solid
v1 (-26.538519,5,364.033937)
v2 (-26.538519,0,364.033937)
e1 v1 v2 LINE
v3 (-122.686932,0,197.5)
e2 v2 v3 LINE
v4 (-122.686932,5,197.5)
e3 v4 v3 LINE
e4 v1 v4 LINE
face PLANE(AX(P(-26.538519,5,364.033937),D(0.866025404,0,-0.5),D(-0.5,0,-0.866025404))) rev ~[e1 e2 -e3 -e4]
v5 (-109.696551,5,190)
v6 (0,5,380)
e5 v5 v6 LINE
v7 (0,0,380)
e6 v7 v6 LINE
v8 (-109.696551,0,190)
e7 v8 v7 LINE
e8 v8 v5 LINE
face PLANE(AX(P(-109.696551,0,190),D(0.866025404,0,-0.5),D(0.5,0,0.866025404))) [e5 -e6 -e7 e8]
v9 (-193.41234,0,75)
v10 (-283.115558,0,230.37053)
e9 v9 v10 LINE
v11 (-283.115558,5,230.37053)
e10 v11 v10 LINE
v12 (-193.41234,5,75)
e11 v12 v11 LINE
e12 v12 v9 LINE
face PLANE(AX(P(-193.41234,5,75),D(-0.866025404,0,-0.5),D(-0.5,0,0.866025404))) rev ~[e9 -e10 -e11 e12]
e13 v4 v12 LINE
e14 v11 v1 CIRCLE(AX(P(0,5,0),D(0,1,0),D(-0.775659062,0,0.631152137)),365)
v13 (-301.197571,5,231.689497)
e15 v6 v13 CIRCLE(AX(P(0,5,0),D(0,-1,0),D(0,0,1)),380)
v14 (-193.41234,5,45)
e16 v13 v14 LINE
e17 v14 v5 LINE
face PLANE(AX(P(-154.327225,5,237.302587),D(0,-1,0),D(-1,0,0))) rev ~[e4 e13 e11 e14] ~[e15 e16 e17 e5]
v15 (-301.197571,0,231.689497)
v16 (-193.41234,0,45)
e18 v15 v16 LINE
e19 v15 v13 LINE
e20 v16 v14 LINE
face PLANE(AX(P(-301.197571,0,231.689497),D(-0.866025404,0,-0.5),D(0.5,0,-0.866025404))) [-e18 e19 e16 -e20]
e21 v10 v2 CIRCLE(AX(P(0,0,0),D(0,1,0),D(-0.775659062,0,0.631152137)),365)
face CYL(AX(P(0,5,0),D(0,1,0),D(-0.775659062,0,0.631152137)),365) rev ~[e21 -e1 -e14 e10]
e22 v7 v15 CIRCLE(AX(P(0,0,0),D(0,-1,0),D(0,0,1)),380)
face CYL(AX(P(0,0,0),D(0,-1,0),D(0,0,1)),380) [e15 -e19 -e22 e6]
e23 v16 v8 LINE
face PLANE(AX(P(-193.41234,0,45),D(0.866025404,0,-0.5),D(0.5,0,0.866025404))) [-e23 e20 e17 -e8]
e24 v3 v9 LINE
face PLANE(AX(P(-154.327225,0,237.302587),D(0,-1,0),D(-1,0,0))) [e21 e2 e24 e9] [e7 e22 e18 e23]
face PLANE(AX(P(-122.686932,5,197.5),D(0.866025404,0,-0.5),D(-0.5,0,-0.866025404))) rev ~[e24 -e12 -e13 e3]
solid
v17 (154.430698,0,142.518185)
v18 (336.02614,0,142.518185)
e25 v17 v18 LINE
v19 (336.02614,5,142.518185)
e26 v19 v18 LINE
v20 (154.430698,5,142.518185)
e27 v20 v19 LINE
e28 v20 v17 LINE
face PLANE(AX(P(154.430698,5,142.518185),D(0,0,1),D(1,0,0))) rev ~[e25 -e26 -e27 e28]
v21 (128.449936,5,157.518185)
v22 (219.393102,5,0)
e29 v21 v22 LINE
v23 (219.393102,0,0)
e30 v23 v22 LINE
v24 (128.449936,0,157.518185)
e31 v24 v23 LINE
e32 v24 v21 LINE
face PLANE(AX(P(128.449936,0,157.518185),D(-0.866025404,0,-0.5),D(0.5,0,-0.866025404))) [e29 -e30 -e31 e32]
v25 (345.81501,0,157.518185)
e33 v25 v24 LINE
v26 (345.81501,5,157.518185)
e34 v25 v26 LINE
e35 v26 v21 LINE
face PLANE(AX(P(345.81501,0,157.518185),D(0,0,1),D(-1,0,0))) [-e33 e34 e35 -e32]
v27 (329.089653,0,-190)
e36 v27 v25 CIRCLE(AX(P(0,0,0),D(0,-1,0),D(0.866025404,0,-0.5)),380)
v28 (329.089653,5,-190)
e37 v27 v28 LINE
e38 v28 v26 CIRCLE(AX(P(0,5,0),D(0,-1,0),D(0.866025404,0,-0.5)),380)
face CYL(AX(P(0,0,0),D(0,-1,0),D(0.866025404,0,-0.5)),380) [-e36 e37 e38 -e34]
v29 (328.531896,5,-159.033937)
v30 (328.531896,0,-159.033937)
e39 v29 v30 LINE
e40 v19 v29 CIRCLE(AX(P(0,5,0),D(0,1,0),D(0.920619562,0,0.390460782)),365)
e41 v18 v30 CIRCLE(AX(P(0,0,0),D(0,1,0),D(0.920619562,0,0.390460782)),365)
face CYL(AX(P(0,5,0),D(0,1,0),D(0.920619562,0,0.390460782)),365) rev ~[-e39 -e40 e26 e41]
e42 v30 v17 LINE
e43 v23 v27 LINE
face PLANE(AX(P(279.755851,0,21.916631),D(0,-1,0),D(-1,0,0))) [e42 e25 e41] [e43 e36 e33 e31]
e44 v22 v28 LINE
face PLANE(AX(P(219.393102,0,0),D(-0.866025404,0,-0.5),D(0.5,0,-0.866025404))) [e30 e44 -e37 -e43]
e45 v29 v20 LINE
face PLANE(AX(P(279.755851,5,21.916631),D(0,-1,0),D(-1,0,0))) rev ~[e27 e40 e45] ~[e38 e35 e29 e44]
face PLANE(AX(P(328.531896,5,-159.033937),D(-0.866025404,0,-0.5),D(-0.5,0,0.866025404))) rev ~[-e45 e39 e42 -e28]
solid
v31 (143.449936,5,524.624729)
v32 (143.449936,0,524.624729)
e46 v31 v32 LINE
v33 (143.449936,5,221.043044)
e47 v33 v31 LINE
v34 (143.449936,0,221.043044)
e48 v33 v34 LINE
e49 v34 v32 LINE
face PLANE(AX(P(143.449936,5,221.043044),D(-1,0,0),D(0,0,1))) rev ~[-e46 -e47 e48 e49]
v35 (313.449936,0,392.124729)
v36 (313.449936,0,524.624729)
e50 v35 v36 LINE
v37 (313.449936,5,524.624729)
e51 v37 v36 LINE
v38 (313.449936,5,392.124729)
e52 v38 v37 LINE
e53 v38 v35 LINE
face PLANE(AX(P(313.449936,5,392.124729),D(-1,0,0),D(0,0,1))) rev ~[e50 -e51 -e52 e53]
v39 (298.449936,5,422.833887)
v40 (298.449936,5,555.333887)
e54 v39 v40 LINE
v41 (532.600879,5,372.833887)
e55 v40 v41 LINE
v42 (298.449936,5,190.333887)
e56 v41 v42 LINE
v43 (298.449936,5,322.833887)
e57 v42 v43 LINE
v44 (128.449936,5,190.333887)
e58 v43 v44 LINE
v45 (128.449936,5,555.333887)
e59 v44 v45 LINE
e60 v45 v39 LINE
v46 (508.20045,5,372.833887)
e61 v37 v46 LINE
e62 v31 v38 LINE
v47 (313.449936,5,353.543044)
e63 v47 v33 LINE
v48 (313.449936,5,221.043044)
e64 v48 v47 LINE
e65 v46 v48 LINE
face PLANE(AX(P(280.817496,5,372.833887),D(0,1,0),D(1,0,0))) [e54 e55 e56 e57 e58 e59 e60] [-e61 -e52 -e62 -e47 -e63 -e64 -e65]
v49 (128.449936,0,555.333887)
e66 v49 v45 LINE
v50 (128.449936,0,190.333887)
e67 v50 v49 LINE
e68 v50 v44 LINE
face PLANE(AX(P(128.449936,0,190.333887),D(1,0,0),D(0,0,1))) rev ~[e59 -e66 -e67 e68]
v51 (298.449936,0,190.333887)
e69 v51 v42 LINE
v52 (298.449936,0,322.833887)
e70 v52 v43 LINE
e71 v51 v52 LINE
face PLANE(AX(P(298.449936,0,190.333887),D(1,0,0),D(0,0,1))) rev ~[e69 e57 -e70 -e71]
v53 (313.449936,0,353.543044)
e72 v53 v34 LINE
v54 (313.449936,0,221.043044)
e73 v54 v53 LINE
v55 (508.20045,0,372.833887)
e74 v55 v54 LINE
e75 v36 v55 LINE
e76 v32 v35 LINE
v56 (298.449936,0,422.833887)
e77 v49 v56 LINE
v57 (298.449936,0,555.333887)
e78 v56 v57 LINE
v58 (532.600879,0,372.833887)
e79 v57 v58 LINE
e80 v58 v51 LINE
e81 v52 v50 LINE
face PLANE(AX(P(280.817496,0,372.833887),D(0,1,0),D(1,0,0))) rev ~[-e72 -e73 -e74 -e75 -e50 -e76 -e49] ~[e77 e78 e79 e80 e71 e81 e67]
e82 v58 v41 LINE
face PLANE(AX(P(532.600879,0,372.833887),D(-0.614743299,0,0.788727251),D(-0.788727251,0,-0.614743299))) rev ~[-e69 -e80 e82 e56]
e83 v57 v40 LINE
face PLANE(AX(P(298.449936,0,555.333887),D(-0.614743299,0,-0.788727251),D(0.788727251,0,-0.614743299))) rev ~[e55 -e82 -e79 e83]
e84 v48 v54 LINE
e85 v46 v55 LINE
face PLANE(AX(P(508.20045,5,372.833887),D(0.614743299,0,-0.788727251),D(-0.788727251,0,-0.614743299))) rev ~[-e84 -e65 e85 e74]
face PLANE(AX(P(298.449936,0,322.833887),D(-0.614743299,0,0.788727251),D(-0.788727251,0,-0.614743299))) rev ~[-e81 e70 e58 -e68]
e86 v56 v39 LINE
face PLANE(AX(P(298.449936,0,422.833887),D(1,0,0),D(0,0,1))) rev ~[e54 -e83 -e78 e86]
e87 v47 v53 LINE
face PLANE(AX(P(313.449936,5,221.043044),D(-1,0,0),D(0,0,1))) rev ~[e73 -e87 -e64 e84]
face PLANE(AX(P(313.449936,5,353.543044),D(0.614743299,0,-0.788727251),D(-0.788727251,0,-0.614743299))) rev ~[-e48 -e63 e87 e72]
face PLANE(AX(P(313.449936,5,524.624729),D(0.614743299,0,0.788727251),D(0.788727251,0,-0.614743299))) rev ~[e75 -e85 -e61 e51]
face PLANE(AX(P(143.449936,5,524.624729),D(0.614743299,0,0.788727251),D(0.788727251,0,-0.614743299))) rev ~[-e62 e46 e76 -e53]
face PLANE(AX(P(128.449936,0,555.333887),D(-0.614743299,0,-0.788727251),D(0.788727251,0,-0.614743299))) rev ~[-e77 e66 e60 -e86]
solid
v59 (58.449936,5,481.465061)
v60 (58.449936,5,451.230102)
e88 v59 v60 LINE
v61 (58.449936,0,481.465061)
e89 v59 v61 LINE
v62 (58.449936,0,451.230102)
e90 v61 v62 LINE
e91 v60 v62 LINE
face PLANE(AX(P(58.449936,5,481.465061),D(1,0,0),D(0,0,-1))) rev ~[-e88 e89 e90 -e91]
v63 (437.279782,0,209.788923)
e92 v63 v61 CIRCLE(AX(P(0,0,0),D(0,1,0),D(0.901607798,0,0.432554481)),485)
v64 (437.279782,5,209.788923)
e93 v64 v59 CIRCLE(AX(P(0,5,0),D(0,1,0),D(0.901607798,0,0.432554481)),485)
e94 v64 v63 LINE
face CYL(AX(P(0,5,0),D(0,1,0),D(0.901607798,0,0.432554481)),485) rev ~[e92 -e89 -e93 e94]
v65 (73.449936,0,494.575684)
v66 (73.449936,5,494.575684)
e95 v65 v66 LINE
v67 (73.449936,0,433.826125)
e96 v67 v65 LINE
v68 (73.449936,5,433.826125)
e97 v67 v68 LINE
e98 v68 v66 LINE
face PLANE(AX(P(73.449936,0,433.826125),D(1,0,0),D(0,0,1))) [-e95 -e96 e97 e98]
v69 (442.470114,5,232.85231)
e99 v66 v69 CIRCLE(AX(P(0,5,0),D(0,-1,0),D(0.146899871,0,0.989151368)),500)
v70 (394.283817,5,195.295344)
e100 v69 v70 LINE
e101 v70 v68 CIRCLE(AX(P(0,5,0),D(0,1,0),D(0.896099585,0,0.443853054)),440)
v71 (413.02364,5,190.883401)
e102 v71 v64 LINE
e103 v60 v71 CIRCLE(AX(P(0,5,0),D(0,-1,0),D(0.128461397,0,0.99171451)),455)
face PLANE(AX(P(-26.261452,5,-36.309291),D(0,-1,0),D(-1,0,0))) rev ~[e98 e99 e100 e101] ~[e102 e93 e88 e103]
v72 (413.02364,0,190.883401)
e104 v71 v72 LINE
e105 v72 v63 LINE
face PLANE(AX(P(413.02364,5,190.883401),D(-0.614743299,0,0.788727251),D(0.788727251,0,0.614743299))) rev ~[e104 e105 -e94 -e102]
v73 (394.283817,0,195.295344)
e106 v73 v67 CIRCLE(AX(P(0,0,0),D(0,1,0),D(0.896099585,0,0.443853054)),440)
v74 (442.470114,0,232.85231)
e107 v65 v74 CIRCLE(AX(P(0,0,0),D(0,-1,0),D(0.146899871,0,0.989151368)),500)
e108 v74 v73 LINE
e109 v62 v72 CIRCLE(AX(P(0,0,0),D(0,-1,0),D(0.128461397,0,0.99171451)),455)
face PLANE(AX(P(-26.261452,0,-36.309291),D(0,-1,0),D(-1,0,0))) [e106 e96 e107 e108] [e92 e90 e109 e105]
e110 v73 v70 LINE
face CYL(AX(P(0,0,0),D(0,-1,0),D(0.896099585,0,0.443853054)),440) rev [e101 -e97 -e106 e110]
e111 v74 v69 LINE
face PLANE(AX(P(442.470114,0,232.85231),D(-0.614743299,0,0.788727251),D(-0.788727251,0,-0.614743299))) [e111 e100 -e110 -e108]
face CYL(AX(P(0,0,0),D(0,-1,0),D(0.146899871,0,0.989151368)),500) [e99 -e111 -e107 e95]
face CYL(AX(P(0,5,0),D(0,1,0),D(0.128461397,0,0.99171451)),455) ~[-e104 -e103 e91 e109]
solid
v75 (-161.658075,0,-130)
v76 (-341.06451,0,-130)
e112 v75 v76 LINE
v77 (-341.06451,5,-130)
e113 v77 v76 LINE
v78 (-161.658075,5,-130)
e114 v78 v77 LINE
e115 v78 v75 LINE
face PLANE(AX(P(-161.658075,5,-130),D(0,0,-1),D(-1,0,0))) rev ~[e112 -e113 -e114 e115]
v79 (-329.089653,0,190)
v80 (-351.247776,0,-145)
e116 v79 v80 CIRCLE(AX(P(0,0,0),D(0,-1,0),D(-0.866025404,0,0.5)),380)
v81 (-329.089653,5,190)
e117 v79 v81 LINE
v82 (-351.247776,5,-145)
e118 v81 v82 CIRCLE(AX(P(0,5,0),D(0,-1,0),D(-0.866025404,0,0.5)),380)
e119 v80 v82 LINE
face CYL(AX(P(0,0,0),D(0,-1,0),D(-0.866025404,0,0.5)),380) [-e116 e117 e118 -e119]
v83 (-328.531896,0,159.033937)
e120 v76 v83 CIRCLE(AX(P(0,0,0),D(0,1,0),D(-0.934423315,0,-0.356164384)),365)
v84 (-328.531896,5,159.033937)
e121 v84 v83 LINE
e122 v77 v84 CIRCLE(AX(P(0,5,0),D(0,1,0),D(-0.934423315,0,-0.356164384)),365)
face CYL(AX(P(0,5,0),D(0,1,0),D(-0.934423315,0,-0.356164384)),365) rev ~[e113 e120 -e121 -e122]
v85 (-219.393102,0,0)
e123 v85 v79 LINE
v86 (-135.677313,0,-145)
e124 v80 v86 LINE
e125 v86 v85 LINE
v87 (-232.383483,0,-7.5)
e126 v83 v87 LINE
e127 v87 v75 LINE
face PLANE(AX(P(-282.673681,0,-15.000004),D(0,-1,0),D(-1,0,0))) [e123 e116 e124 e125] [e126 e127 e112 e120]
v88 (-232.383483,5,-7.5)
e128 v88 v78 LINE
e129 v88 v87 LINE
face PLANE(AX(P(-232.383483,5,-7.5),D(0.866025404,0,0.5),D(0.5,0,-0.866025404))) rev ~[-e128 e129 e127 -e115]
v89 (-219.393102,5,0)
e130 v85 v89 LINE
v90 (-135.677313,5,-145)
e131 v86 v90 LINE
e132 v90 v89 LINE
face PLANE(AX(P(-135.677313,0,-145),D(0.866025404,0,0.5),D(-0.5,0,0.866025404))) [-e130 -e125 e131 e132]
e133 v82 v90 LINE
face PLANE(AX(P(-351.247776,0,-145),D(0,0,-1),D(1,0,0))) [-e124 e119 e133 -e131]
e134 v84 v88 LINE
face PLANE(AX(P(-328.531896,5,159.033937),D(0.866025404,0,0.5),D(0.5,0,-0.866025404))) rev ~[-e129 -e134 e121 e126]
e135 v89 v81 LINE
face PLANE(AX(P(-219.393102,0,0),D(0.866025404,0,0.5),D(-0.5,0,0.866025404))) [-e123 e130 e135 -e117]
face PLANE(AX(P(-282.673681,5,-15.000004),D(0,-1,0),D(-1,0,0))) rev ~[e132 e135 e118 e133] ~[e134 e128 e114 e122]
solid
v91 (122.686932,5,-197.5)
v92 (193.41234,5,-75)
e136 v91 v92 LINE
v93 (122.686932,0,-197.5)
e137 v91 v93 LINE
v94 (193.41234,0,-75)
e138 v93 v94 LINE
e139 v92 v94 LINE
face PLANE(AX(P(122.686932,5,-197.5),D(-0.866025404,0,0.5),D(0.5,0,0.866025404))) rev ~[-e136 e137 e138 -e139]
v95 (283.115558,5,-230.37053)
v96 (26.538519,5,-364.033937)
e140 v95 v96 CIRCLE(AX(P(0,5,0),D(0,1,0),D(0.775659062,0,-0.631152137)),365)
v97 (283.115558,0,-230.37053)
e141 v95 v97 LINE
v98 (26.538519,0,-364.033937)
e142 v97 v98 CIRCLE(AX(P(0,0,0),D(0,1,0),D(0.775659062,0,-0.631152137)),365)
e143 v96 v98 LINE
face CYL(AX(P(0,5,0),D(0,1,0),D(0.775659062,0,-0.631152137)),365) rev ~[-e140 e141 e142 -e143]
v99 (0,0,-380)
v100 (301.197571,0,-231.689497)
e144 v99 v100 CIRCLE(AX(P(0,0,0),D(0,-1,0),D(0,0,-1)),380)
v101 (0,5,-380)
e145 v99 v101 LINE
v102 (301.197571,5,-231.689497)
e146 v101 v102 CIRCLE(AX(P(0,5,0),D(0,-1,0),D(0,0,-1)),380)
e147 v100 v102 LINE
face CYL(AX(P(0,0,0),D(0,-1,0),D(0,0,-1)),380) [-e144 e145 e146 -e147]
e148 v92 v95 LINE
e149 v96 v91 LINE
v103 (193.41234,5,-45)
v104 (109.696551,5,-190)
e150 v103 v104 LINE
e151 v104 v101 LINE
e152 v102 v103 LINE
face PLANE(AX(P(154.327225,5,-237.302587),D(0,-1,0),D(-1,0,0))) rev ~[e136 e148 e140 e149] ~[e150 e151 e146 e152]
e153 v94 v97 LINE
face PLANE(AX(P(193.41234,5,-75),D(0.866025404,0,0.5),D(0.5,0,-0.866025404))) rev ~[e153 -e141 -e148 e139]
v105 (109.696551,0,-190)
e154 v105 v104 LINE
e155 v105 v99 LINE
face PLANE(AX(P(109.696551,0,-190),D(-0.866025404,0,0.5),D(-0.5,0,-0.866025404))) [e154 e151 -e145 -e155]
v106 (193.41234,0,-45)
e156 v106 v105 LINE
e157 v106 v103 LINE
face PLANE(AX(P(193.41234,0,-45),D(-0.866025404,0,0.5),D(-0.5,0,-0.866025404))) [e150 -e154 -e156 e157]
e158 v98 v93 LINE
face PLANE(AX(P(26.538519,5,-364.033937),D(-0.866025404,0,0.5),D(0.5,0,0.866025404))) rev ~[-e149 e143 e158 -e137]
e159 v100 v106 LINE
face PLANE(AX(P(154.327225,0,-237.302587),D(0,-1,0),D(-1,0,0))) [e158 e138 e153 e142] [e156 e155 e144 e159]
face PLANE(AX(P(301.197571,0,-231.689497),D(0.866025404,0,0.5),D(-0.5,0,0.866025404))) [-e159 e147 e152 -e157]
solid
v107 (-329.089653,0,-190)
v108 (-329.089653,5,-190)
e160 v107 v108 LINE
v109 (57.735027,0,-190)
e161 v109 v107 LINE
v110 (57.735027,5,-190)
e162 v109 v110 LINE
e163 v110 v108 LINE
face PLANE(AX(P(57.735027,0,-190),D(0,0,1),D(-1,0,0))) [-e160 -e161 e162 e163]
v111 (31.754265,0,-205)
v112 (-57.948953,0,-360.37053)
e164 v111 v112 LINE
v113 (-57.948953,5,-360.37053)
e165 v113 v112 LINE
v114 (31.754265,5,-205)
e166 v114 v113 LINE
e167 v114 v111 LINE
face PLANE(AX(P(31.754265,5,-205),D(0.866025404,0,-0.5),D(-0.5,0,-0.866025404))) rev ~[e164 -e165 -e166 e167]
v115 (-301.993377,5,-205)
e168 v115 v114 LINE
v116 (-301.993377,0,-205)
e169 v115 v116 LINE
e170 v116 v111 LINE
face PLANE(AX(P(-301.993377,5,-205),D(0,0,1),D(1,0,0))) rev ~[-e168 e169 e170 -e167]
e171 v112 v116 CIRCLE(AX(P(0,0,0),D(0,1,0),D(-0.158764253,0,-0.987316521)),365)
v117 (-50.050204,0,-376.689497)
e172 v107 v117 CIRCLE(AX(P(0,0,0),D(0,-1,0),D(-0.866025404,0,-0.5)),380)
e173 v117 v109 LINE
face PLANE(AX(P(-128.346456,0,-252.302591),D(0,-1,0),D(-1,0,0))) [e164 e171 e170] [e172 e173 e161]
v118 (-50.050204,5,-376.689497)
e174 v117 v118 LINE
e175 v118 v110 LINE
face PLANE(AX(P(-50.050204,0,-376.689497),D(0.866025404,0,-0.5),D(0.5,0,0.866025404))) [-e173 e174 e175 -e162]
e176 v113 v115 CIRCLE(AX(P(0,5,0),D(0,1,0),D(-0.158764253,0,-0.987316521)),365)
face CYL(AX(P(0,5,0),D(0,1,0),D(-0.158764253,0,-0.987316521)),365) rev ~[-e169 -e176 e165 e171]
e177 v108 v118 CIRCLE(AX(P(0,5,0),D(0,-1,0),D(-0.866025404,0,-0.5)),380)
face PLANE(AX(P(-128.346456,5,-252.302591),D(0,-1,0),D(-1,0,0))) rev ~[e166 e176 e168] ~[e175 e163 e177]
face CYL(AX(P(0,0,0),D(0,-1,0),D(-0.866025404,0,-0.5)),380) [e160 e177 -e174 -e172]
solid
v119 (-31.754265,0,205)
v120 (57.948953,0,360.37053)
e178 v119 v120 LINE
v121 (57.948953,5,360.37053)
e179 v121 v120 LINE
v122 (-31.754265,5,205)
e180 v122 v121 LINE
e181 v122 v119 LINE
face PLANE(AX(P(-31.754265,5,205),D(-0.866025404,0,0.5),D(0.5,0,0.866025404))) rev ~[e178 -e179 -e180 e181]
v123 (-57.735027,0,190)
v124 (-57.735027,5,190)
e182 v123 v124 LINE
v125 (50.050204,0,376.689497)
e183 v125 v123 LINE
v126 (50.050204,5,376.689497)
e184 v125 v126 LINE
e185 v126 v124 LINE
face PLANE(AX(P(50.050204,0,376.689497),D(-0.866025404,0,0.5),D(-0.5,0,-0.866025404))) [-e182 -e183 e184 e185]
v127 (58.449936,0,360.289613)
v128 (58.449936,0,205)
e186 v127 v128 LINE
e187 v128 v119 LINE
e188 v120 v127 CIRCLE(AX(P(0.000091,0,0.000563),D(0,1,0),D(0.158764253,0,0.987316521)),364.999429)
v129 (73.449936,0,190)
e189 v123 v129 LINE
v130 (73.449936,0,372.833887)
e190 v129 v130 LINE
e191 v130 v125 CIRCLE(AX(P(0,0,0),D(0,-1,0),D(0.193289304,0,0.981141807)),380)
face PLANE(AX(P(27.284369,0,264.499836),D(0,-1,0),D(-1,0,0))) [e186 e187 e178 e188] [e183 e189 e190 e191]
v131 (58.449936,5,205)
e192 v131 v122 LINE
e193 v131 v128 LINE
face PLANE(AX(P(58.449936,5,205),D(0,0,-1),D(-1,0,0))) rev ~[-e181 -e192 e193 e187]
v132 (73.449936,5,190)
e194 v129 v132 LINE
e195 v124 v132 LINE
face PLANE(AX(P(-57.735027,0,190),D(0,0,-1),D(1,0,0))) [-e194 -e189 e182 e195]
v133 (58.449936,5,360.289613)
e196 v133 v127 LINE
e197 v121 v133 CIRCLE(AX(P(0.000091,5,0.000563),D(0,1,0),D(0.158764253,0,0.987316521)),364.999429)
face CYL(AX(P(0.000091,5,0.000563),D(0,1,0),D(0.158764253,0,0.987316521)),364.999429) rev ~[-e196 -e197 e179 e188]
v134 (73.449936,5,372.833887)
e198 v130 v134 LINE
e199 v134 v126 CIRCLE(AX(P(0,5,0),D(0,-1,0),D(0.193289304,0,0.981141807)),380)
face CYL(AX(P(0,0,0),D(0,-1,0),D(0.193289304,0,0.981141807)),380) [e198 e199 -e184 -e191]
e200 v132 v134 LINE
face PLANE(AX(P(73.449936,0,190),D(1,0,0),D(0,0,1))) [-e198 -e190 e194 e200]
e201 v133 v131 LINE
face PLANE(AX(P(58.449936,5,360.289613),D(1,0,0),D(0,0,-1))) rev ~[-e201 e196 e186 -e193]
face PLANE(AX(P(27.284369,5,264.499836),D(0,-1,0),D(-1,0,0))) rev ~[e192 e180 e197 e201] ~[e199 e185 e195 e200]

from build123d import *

# Parameters (mm, degrees)
EXTRUDE_1_DEPTH     = 5
EXTRUDE_1_2_DEPTH   = 5
EXTRUDE_1_3_DEPTH   = 5
EXTRUDE_1_4_DEPTH   = 5
EXTRUDE_1_5_DEPTH   = 5
EXTRUDE_1_6_DEPTH   = 5
EXTRUDE_1_7_DEPTH   = 5
EXTRUDE_1_8_DEPTH   = 5
CUT_EXTRUDE_1_DEPTH = 5


with BuildPart() as part:
    # 草图1 → 凸台-拉伸1 (new body)
    with BuildSketch(Plane(origin=(0, 0, 0), x_dir=(1, 0, 0), z_dir=(0, 1, 0))):
        with BuildLine():
            Line((-109.696551146, 190), (-329.089653438, 190))
            ThreePointArc((-329.089653438, 190), (-211.305466091, 315.832233947), (-50.050204348, 376.68949686))
            Line((-50.050204348, 376.68949686), (57.735026919, 190))
            Line((57.735026919, 190), (-109.696551146, 190))
        make_face()
    extrude(amount=EXTRUDE_1_DEPTH)


with BuildPart() as body_2:
    # 草图1 → Extrude 1 2 (new body)
    with BuildSketch(Plane(origin=(0, 0, 0), x_dir=(1, 0, 0), z_dir=(0, 1, 0))):
        with BuildLine():
            Line((128.449935554, -157.518185391), (219.393102292, 0))
            Line((219.393102292, 0), (329.089653438, 190))
            ThreePointArc((329.089653438, 190), (379.560665165, 18.267497356), (345.815010187, -157.518185391))
            Line((345.815010187, -157.518185391), (128.449935554, -157.518185391))
        make_face()
    extrude(amount=EXTRUDE_1_2_DEPTH)


with BuildPart() as body_3:
    # 草图1 → Extrude 1 3 (new body)
    with BuildSketch(Plane(origin=(0, 0, 0), x_dir=(1, 0, 0), z_dir=(0, 1, 0))):
        with BuildLine():
            Line((193.412340179, 45), (109.696551146, 190))
            Line((109.696551146, 190), (0, 380))
            ThreePointArc((0, 380), (167.866004887, 340.912018567), (301.197571446, 231.68949686))
            Line((301.197571446, 231.68949686), (193.412340179, 45))
        make_face()
    extrude(amount=EXTRUDE_1_3_DEPTH)


with BuildPart() as body_4:
    # 草图1 → Extrude 1 4 (new body)
    with BuildSketch(Plane(origin=(0, 0, 0), x_dir=(1, 0, 0), z_dir=(0, 1, 0))):
        with BuildLine():
            Line((-135.67731326, 145), (-219.393102292, 0))
            Line((-219.393102292, 0), (-329.089653438, -190))
            ThreePointArc((-329.089653438, -190), (-379.171470978, -25.07978462), (-351.247775794, 145))
            Line((-351.247775794, 145), (-135.67731326, 145))
        make_face()
    extrude(amount=EXTRUDE_1_4_DEPTH)


with BuildPart() as body_5:
    # 草图1 → Extrude 1 5 (new body)
    with BuildSketch(Plane(origin=(0, 0, 0), x_dir=(1, 0, 0), z_dir=(0, 1, 0))):
        with BuildLine():
            Line((-193.412340179, -45), (-109.696551146, -190))
            Line((-109.696551146, -190), (0, -380))
            ThreePointArc((0, -380), (-167.866004887, -340.912018567), (-301.197571446, -231.68949686))
            Line((-301.197571446, -231.68949686), (-193.412340179, -45))
        make_face()
    extrude(amount=EXTRUDE_1_5_DEPTH)


with BuildPart() as body_6:
    # 草图1 → Extrude 1 6 (new body)
    with BuildSketch(Plane(origin=(0, 0, 0), x_dir=(1, 0, 0), z_dir=(0, 1, 0))):
        with BuildLine():
            Line((-57.735026919, -190), (73.449935554, -190))
            Line((73.449935554, -190), (73.449935554, -372.83388656))
            ThreePointArc((73.449935554, -372.83388656), (61.780155161, -374.944279098), (50.050204348, -376.68949686))
            Line((50.050204348, -376.68949686), (-57.735026919, -190))
        make_face()
    extrude(amount=EXTRUDE_1_6_DEPTH)


with BuildPart() as body_7:
    # 草图1 → Extrude 1 7 (new body)
    with BuildSketch(Plane(origin=(0, 0, 0), x_dir=(1, 0, 0), z_dir=(0, 1, 0))):
        Polygon((128.449935554, -190.33388656), (128.449935554, -555.33388656), (298.449935554, -422.83388656), (298.449935554, -555.33388656), (532.60087895, -372.83388656), (298.449935554, -190.33388656), (298.449935554, -322.83388656), align=None)
    extrude(amount=EXTRUDE_1_7_DEPTH)


with BuildPart() as body_8:
    # 草图1 → Extrude 1 8 (new body)
    with BuildSketch(Plane(origin=(0, 0, 0), x_dir=(1, 0, 0), z_dir=(0, 1, 0))):
        with BuildLine():
            Line((73.449935554, -433.82612527), (73.449935554, -494.57568376))
            ThreePointArc((73.449935554, -494.57568376), (-289.254482056, 407.838012709), (442.470113798, -232.852310264))
            Line((442.470113798, -232.852310264), (394.283817369, -195.29534393))
            ThreePointArc((394.283817369, -195.29534393), (-262.522283469, 353.103456061), (73.449935554, -433.82612527))
        make_face()
    extrude(amount=EXTRUDE_1_8_DEPTH)


with BuildPart() as cut_extrude_1_tool:
    # 草图2 → 切除-拉伸1 (new body)
    with BuildSketch(Plane(origin=(0, 5, 0), x_dir=(1, 0, 0), z_dir=(0, 1, 0))):
        with BuildLine():
            Line((-161.658075373, 130), (-341.064510027, 130))
            ThreePointArc((-341.064510027, 130), (-364.657361136, -15.811671935), (-328.531896481, -159.033936612))
            Line((-328.531896481, -159.033936612), (-232.383483349, 7.5))
            Line((-232.383483349, 7.5), (-161.658075373, 130))
        make_face()
        with BuildLine():
            Line((58.449935554, -205), (-31.754264805, -205))
            Line((-31.754264805, -205), (57.948952522, -360.370530013))
            ThreePointArc((57.948952522, -360.370530013), (58.199458101, -360.330158434), (58.449935554, -360.28961272))
            Line((58.449935554, -360.28961272), (58.449935554, -205))
        make_face()
        with BuildLine():
            Line((-193.412340179, -75), (-283.115557506, -230.370530013))
            ThreePointArc((-283.115557506, -230.370530013), (-168.635370996, -323.708374388), (-26.53851907, -364.033936612))
            Line((-26.53851907, -364.033936612), (-122.686932203, -197.5))
            Line((-122.686932203, -197.5), (-193.412340179, -75))
        make_face()
        with BuildLine():
            Line((31.754264805, 205), (-57.948952522, 360.370530013))
            ThreePointArc((-57.948952522, 360.370530013), (-196.02199014, 307.896702453), (-301.993377411, 205))
            Line((-301.993377411, 205), (-109.696551146, 205))
            Line((-109.696551146, 205), (31.754264805, 205))
        make_face()
        with BuildLine():
            Line((122.686932203, 197.5), (193.412340179, 75))
            Line((193.412340179, 75), (283.115557506, 230.370530013))
            ThreePointArc((283.115557506, 230.370530013), (168.635370996, 323.708374388), (26.53851907, 364.033936612))
            Line((26.53851907, 364.033936612), (122.686932203, 197.5))
        make_face()
        with BuildLine():
            Line((328.531896481, 159.033936612), (232.383483349, -7.5))
            Line((232.383483349, -7.5), (154.430697668, -142.518185391))
            Line((154.430697668, -142.518185391), (336.026140103, -142.518185391))
            ThreePointArc((336.026140103, -142.518185391), (364.887334075, 9.068265075), (328.531896481, 159.033936612))
        make_face()
        with BuildLine():
            Line((58.449935554, -481.465061073), (58.449935554, -451.230102092))
            ThreePointArc((58.449935554, -451.230102092), (-269.289684738, 366.753412654), (413.023640021, -190.883401017))
            Line((413.023640021, -190.883401017), (437.279781879, -209.788923348))
            ThreePointArc((437.279781879, -209.788923348), (-282.646367638, 394.126922274), (58.449935554, -481.465061073))
        make_face()
        Polygon((313.449935554, -392.124728933), (313.449935554, -524.624728933), (508.200450297, -372.83388656), (313.449935554, -221.043044187), (313.449935554, -353.543044187), (143.449935554, -221.043044187), (143.449935554, -524.624728933), align=None)
    extrude(amount=-CUT_EXTRUDE_1_DEPTH)


with BuildPart() as part_1:
    add(part.part)

    # 切除-拉伸1: cut by cut_extrude_1_tool
    add(cut_extrude_1_tool.part, mode=Mode.SUBTRACT)


with BuildPart() as body_2_1:
    add(body_2.part)

    # 切除-拉伸1: cut by cut_extrude_1_tool
    add(cut_extrude_1_tool.part, mode=Mode.SUBTRACT)


with BuildPart() as body_3_1:
    add(body_3.part)

    # 切除-拉伸1: cut by cut_extrude_1_tool
    add(cut_extrude_1_tool.part, mode=Mode.SUBTRACT)


with BuildPart() as body_4_1:
    add(body_4.part)

    # 切除-拉伸1: cut by cut_extrude_1_tool
    add(cut_extrude_1_tool.part, mode=Mode.SUBTRACT)


with BuildPart() as body_5_1:
    add(body_5.part)

    # 切除-拉伸1: cut by cut_extrude_1_tool
    add(cut_extrude_1_tool.part, mode=Mode.SUBTRACT)


with BuildPart() as body_6_1:
    add(body_6.part)

    # 切除-拉伸1: cut by cut_extrude_1_tool
    add(cut_extrude_1_tool.part, mode=Mode.SUBTRACT)


with BuildPart() as body_7_1:
    add(body_7.part)

    # 切除-拉伸1: cut by cut_extrude_1_tool
    add(cut_extrude_1_tool.part, mode=Mode.SUBTRACT)


with BuildPart() as body_8_1:
    add(body_8.part)

    # 切除-拉伸1: cut by cut_extrude_1_tool
    add(cut_extrude_1_tool.part, mode=Mode.SUBTRACT)


solid = Compound([part_1.part, body_2_1.part, body_3_1.part, body_4_1.part, body_5_1.part, body_6_1.part, body_7_1.part, body_8_1.part])
